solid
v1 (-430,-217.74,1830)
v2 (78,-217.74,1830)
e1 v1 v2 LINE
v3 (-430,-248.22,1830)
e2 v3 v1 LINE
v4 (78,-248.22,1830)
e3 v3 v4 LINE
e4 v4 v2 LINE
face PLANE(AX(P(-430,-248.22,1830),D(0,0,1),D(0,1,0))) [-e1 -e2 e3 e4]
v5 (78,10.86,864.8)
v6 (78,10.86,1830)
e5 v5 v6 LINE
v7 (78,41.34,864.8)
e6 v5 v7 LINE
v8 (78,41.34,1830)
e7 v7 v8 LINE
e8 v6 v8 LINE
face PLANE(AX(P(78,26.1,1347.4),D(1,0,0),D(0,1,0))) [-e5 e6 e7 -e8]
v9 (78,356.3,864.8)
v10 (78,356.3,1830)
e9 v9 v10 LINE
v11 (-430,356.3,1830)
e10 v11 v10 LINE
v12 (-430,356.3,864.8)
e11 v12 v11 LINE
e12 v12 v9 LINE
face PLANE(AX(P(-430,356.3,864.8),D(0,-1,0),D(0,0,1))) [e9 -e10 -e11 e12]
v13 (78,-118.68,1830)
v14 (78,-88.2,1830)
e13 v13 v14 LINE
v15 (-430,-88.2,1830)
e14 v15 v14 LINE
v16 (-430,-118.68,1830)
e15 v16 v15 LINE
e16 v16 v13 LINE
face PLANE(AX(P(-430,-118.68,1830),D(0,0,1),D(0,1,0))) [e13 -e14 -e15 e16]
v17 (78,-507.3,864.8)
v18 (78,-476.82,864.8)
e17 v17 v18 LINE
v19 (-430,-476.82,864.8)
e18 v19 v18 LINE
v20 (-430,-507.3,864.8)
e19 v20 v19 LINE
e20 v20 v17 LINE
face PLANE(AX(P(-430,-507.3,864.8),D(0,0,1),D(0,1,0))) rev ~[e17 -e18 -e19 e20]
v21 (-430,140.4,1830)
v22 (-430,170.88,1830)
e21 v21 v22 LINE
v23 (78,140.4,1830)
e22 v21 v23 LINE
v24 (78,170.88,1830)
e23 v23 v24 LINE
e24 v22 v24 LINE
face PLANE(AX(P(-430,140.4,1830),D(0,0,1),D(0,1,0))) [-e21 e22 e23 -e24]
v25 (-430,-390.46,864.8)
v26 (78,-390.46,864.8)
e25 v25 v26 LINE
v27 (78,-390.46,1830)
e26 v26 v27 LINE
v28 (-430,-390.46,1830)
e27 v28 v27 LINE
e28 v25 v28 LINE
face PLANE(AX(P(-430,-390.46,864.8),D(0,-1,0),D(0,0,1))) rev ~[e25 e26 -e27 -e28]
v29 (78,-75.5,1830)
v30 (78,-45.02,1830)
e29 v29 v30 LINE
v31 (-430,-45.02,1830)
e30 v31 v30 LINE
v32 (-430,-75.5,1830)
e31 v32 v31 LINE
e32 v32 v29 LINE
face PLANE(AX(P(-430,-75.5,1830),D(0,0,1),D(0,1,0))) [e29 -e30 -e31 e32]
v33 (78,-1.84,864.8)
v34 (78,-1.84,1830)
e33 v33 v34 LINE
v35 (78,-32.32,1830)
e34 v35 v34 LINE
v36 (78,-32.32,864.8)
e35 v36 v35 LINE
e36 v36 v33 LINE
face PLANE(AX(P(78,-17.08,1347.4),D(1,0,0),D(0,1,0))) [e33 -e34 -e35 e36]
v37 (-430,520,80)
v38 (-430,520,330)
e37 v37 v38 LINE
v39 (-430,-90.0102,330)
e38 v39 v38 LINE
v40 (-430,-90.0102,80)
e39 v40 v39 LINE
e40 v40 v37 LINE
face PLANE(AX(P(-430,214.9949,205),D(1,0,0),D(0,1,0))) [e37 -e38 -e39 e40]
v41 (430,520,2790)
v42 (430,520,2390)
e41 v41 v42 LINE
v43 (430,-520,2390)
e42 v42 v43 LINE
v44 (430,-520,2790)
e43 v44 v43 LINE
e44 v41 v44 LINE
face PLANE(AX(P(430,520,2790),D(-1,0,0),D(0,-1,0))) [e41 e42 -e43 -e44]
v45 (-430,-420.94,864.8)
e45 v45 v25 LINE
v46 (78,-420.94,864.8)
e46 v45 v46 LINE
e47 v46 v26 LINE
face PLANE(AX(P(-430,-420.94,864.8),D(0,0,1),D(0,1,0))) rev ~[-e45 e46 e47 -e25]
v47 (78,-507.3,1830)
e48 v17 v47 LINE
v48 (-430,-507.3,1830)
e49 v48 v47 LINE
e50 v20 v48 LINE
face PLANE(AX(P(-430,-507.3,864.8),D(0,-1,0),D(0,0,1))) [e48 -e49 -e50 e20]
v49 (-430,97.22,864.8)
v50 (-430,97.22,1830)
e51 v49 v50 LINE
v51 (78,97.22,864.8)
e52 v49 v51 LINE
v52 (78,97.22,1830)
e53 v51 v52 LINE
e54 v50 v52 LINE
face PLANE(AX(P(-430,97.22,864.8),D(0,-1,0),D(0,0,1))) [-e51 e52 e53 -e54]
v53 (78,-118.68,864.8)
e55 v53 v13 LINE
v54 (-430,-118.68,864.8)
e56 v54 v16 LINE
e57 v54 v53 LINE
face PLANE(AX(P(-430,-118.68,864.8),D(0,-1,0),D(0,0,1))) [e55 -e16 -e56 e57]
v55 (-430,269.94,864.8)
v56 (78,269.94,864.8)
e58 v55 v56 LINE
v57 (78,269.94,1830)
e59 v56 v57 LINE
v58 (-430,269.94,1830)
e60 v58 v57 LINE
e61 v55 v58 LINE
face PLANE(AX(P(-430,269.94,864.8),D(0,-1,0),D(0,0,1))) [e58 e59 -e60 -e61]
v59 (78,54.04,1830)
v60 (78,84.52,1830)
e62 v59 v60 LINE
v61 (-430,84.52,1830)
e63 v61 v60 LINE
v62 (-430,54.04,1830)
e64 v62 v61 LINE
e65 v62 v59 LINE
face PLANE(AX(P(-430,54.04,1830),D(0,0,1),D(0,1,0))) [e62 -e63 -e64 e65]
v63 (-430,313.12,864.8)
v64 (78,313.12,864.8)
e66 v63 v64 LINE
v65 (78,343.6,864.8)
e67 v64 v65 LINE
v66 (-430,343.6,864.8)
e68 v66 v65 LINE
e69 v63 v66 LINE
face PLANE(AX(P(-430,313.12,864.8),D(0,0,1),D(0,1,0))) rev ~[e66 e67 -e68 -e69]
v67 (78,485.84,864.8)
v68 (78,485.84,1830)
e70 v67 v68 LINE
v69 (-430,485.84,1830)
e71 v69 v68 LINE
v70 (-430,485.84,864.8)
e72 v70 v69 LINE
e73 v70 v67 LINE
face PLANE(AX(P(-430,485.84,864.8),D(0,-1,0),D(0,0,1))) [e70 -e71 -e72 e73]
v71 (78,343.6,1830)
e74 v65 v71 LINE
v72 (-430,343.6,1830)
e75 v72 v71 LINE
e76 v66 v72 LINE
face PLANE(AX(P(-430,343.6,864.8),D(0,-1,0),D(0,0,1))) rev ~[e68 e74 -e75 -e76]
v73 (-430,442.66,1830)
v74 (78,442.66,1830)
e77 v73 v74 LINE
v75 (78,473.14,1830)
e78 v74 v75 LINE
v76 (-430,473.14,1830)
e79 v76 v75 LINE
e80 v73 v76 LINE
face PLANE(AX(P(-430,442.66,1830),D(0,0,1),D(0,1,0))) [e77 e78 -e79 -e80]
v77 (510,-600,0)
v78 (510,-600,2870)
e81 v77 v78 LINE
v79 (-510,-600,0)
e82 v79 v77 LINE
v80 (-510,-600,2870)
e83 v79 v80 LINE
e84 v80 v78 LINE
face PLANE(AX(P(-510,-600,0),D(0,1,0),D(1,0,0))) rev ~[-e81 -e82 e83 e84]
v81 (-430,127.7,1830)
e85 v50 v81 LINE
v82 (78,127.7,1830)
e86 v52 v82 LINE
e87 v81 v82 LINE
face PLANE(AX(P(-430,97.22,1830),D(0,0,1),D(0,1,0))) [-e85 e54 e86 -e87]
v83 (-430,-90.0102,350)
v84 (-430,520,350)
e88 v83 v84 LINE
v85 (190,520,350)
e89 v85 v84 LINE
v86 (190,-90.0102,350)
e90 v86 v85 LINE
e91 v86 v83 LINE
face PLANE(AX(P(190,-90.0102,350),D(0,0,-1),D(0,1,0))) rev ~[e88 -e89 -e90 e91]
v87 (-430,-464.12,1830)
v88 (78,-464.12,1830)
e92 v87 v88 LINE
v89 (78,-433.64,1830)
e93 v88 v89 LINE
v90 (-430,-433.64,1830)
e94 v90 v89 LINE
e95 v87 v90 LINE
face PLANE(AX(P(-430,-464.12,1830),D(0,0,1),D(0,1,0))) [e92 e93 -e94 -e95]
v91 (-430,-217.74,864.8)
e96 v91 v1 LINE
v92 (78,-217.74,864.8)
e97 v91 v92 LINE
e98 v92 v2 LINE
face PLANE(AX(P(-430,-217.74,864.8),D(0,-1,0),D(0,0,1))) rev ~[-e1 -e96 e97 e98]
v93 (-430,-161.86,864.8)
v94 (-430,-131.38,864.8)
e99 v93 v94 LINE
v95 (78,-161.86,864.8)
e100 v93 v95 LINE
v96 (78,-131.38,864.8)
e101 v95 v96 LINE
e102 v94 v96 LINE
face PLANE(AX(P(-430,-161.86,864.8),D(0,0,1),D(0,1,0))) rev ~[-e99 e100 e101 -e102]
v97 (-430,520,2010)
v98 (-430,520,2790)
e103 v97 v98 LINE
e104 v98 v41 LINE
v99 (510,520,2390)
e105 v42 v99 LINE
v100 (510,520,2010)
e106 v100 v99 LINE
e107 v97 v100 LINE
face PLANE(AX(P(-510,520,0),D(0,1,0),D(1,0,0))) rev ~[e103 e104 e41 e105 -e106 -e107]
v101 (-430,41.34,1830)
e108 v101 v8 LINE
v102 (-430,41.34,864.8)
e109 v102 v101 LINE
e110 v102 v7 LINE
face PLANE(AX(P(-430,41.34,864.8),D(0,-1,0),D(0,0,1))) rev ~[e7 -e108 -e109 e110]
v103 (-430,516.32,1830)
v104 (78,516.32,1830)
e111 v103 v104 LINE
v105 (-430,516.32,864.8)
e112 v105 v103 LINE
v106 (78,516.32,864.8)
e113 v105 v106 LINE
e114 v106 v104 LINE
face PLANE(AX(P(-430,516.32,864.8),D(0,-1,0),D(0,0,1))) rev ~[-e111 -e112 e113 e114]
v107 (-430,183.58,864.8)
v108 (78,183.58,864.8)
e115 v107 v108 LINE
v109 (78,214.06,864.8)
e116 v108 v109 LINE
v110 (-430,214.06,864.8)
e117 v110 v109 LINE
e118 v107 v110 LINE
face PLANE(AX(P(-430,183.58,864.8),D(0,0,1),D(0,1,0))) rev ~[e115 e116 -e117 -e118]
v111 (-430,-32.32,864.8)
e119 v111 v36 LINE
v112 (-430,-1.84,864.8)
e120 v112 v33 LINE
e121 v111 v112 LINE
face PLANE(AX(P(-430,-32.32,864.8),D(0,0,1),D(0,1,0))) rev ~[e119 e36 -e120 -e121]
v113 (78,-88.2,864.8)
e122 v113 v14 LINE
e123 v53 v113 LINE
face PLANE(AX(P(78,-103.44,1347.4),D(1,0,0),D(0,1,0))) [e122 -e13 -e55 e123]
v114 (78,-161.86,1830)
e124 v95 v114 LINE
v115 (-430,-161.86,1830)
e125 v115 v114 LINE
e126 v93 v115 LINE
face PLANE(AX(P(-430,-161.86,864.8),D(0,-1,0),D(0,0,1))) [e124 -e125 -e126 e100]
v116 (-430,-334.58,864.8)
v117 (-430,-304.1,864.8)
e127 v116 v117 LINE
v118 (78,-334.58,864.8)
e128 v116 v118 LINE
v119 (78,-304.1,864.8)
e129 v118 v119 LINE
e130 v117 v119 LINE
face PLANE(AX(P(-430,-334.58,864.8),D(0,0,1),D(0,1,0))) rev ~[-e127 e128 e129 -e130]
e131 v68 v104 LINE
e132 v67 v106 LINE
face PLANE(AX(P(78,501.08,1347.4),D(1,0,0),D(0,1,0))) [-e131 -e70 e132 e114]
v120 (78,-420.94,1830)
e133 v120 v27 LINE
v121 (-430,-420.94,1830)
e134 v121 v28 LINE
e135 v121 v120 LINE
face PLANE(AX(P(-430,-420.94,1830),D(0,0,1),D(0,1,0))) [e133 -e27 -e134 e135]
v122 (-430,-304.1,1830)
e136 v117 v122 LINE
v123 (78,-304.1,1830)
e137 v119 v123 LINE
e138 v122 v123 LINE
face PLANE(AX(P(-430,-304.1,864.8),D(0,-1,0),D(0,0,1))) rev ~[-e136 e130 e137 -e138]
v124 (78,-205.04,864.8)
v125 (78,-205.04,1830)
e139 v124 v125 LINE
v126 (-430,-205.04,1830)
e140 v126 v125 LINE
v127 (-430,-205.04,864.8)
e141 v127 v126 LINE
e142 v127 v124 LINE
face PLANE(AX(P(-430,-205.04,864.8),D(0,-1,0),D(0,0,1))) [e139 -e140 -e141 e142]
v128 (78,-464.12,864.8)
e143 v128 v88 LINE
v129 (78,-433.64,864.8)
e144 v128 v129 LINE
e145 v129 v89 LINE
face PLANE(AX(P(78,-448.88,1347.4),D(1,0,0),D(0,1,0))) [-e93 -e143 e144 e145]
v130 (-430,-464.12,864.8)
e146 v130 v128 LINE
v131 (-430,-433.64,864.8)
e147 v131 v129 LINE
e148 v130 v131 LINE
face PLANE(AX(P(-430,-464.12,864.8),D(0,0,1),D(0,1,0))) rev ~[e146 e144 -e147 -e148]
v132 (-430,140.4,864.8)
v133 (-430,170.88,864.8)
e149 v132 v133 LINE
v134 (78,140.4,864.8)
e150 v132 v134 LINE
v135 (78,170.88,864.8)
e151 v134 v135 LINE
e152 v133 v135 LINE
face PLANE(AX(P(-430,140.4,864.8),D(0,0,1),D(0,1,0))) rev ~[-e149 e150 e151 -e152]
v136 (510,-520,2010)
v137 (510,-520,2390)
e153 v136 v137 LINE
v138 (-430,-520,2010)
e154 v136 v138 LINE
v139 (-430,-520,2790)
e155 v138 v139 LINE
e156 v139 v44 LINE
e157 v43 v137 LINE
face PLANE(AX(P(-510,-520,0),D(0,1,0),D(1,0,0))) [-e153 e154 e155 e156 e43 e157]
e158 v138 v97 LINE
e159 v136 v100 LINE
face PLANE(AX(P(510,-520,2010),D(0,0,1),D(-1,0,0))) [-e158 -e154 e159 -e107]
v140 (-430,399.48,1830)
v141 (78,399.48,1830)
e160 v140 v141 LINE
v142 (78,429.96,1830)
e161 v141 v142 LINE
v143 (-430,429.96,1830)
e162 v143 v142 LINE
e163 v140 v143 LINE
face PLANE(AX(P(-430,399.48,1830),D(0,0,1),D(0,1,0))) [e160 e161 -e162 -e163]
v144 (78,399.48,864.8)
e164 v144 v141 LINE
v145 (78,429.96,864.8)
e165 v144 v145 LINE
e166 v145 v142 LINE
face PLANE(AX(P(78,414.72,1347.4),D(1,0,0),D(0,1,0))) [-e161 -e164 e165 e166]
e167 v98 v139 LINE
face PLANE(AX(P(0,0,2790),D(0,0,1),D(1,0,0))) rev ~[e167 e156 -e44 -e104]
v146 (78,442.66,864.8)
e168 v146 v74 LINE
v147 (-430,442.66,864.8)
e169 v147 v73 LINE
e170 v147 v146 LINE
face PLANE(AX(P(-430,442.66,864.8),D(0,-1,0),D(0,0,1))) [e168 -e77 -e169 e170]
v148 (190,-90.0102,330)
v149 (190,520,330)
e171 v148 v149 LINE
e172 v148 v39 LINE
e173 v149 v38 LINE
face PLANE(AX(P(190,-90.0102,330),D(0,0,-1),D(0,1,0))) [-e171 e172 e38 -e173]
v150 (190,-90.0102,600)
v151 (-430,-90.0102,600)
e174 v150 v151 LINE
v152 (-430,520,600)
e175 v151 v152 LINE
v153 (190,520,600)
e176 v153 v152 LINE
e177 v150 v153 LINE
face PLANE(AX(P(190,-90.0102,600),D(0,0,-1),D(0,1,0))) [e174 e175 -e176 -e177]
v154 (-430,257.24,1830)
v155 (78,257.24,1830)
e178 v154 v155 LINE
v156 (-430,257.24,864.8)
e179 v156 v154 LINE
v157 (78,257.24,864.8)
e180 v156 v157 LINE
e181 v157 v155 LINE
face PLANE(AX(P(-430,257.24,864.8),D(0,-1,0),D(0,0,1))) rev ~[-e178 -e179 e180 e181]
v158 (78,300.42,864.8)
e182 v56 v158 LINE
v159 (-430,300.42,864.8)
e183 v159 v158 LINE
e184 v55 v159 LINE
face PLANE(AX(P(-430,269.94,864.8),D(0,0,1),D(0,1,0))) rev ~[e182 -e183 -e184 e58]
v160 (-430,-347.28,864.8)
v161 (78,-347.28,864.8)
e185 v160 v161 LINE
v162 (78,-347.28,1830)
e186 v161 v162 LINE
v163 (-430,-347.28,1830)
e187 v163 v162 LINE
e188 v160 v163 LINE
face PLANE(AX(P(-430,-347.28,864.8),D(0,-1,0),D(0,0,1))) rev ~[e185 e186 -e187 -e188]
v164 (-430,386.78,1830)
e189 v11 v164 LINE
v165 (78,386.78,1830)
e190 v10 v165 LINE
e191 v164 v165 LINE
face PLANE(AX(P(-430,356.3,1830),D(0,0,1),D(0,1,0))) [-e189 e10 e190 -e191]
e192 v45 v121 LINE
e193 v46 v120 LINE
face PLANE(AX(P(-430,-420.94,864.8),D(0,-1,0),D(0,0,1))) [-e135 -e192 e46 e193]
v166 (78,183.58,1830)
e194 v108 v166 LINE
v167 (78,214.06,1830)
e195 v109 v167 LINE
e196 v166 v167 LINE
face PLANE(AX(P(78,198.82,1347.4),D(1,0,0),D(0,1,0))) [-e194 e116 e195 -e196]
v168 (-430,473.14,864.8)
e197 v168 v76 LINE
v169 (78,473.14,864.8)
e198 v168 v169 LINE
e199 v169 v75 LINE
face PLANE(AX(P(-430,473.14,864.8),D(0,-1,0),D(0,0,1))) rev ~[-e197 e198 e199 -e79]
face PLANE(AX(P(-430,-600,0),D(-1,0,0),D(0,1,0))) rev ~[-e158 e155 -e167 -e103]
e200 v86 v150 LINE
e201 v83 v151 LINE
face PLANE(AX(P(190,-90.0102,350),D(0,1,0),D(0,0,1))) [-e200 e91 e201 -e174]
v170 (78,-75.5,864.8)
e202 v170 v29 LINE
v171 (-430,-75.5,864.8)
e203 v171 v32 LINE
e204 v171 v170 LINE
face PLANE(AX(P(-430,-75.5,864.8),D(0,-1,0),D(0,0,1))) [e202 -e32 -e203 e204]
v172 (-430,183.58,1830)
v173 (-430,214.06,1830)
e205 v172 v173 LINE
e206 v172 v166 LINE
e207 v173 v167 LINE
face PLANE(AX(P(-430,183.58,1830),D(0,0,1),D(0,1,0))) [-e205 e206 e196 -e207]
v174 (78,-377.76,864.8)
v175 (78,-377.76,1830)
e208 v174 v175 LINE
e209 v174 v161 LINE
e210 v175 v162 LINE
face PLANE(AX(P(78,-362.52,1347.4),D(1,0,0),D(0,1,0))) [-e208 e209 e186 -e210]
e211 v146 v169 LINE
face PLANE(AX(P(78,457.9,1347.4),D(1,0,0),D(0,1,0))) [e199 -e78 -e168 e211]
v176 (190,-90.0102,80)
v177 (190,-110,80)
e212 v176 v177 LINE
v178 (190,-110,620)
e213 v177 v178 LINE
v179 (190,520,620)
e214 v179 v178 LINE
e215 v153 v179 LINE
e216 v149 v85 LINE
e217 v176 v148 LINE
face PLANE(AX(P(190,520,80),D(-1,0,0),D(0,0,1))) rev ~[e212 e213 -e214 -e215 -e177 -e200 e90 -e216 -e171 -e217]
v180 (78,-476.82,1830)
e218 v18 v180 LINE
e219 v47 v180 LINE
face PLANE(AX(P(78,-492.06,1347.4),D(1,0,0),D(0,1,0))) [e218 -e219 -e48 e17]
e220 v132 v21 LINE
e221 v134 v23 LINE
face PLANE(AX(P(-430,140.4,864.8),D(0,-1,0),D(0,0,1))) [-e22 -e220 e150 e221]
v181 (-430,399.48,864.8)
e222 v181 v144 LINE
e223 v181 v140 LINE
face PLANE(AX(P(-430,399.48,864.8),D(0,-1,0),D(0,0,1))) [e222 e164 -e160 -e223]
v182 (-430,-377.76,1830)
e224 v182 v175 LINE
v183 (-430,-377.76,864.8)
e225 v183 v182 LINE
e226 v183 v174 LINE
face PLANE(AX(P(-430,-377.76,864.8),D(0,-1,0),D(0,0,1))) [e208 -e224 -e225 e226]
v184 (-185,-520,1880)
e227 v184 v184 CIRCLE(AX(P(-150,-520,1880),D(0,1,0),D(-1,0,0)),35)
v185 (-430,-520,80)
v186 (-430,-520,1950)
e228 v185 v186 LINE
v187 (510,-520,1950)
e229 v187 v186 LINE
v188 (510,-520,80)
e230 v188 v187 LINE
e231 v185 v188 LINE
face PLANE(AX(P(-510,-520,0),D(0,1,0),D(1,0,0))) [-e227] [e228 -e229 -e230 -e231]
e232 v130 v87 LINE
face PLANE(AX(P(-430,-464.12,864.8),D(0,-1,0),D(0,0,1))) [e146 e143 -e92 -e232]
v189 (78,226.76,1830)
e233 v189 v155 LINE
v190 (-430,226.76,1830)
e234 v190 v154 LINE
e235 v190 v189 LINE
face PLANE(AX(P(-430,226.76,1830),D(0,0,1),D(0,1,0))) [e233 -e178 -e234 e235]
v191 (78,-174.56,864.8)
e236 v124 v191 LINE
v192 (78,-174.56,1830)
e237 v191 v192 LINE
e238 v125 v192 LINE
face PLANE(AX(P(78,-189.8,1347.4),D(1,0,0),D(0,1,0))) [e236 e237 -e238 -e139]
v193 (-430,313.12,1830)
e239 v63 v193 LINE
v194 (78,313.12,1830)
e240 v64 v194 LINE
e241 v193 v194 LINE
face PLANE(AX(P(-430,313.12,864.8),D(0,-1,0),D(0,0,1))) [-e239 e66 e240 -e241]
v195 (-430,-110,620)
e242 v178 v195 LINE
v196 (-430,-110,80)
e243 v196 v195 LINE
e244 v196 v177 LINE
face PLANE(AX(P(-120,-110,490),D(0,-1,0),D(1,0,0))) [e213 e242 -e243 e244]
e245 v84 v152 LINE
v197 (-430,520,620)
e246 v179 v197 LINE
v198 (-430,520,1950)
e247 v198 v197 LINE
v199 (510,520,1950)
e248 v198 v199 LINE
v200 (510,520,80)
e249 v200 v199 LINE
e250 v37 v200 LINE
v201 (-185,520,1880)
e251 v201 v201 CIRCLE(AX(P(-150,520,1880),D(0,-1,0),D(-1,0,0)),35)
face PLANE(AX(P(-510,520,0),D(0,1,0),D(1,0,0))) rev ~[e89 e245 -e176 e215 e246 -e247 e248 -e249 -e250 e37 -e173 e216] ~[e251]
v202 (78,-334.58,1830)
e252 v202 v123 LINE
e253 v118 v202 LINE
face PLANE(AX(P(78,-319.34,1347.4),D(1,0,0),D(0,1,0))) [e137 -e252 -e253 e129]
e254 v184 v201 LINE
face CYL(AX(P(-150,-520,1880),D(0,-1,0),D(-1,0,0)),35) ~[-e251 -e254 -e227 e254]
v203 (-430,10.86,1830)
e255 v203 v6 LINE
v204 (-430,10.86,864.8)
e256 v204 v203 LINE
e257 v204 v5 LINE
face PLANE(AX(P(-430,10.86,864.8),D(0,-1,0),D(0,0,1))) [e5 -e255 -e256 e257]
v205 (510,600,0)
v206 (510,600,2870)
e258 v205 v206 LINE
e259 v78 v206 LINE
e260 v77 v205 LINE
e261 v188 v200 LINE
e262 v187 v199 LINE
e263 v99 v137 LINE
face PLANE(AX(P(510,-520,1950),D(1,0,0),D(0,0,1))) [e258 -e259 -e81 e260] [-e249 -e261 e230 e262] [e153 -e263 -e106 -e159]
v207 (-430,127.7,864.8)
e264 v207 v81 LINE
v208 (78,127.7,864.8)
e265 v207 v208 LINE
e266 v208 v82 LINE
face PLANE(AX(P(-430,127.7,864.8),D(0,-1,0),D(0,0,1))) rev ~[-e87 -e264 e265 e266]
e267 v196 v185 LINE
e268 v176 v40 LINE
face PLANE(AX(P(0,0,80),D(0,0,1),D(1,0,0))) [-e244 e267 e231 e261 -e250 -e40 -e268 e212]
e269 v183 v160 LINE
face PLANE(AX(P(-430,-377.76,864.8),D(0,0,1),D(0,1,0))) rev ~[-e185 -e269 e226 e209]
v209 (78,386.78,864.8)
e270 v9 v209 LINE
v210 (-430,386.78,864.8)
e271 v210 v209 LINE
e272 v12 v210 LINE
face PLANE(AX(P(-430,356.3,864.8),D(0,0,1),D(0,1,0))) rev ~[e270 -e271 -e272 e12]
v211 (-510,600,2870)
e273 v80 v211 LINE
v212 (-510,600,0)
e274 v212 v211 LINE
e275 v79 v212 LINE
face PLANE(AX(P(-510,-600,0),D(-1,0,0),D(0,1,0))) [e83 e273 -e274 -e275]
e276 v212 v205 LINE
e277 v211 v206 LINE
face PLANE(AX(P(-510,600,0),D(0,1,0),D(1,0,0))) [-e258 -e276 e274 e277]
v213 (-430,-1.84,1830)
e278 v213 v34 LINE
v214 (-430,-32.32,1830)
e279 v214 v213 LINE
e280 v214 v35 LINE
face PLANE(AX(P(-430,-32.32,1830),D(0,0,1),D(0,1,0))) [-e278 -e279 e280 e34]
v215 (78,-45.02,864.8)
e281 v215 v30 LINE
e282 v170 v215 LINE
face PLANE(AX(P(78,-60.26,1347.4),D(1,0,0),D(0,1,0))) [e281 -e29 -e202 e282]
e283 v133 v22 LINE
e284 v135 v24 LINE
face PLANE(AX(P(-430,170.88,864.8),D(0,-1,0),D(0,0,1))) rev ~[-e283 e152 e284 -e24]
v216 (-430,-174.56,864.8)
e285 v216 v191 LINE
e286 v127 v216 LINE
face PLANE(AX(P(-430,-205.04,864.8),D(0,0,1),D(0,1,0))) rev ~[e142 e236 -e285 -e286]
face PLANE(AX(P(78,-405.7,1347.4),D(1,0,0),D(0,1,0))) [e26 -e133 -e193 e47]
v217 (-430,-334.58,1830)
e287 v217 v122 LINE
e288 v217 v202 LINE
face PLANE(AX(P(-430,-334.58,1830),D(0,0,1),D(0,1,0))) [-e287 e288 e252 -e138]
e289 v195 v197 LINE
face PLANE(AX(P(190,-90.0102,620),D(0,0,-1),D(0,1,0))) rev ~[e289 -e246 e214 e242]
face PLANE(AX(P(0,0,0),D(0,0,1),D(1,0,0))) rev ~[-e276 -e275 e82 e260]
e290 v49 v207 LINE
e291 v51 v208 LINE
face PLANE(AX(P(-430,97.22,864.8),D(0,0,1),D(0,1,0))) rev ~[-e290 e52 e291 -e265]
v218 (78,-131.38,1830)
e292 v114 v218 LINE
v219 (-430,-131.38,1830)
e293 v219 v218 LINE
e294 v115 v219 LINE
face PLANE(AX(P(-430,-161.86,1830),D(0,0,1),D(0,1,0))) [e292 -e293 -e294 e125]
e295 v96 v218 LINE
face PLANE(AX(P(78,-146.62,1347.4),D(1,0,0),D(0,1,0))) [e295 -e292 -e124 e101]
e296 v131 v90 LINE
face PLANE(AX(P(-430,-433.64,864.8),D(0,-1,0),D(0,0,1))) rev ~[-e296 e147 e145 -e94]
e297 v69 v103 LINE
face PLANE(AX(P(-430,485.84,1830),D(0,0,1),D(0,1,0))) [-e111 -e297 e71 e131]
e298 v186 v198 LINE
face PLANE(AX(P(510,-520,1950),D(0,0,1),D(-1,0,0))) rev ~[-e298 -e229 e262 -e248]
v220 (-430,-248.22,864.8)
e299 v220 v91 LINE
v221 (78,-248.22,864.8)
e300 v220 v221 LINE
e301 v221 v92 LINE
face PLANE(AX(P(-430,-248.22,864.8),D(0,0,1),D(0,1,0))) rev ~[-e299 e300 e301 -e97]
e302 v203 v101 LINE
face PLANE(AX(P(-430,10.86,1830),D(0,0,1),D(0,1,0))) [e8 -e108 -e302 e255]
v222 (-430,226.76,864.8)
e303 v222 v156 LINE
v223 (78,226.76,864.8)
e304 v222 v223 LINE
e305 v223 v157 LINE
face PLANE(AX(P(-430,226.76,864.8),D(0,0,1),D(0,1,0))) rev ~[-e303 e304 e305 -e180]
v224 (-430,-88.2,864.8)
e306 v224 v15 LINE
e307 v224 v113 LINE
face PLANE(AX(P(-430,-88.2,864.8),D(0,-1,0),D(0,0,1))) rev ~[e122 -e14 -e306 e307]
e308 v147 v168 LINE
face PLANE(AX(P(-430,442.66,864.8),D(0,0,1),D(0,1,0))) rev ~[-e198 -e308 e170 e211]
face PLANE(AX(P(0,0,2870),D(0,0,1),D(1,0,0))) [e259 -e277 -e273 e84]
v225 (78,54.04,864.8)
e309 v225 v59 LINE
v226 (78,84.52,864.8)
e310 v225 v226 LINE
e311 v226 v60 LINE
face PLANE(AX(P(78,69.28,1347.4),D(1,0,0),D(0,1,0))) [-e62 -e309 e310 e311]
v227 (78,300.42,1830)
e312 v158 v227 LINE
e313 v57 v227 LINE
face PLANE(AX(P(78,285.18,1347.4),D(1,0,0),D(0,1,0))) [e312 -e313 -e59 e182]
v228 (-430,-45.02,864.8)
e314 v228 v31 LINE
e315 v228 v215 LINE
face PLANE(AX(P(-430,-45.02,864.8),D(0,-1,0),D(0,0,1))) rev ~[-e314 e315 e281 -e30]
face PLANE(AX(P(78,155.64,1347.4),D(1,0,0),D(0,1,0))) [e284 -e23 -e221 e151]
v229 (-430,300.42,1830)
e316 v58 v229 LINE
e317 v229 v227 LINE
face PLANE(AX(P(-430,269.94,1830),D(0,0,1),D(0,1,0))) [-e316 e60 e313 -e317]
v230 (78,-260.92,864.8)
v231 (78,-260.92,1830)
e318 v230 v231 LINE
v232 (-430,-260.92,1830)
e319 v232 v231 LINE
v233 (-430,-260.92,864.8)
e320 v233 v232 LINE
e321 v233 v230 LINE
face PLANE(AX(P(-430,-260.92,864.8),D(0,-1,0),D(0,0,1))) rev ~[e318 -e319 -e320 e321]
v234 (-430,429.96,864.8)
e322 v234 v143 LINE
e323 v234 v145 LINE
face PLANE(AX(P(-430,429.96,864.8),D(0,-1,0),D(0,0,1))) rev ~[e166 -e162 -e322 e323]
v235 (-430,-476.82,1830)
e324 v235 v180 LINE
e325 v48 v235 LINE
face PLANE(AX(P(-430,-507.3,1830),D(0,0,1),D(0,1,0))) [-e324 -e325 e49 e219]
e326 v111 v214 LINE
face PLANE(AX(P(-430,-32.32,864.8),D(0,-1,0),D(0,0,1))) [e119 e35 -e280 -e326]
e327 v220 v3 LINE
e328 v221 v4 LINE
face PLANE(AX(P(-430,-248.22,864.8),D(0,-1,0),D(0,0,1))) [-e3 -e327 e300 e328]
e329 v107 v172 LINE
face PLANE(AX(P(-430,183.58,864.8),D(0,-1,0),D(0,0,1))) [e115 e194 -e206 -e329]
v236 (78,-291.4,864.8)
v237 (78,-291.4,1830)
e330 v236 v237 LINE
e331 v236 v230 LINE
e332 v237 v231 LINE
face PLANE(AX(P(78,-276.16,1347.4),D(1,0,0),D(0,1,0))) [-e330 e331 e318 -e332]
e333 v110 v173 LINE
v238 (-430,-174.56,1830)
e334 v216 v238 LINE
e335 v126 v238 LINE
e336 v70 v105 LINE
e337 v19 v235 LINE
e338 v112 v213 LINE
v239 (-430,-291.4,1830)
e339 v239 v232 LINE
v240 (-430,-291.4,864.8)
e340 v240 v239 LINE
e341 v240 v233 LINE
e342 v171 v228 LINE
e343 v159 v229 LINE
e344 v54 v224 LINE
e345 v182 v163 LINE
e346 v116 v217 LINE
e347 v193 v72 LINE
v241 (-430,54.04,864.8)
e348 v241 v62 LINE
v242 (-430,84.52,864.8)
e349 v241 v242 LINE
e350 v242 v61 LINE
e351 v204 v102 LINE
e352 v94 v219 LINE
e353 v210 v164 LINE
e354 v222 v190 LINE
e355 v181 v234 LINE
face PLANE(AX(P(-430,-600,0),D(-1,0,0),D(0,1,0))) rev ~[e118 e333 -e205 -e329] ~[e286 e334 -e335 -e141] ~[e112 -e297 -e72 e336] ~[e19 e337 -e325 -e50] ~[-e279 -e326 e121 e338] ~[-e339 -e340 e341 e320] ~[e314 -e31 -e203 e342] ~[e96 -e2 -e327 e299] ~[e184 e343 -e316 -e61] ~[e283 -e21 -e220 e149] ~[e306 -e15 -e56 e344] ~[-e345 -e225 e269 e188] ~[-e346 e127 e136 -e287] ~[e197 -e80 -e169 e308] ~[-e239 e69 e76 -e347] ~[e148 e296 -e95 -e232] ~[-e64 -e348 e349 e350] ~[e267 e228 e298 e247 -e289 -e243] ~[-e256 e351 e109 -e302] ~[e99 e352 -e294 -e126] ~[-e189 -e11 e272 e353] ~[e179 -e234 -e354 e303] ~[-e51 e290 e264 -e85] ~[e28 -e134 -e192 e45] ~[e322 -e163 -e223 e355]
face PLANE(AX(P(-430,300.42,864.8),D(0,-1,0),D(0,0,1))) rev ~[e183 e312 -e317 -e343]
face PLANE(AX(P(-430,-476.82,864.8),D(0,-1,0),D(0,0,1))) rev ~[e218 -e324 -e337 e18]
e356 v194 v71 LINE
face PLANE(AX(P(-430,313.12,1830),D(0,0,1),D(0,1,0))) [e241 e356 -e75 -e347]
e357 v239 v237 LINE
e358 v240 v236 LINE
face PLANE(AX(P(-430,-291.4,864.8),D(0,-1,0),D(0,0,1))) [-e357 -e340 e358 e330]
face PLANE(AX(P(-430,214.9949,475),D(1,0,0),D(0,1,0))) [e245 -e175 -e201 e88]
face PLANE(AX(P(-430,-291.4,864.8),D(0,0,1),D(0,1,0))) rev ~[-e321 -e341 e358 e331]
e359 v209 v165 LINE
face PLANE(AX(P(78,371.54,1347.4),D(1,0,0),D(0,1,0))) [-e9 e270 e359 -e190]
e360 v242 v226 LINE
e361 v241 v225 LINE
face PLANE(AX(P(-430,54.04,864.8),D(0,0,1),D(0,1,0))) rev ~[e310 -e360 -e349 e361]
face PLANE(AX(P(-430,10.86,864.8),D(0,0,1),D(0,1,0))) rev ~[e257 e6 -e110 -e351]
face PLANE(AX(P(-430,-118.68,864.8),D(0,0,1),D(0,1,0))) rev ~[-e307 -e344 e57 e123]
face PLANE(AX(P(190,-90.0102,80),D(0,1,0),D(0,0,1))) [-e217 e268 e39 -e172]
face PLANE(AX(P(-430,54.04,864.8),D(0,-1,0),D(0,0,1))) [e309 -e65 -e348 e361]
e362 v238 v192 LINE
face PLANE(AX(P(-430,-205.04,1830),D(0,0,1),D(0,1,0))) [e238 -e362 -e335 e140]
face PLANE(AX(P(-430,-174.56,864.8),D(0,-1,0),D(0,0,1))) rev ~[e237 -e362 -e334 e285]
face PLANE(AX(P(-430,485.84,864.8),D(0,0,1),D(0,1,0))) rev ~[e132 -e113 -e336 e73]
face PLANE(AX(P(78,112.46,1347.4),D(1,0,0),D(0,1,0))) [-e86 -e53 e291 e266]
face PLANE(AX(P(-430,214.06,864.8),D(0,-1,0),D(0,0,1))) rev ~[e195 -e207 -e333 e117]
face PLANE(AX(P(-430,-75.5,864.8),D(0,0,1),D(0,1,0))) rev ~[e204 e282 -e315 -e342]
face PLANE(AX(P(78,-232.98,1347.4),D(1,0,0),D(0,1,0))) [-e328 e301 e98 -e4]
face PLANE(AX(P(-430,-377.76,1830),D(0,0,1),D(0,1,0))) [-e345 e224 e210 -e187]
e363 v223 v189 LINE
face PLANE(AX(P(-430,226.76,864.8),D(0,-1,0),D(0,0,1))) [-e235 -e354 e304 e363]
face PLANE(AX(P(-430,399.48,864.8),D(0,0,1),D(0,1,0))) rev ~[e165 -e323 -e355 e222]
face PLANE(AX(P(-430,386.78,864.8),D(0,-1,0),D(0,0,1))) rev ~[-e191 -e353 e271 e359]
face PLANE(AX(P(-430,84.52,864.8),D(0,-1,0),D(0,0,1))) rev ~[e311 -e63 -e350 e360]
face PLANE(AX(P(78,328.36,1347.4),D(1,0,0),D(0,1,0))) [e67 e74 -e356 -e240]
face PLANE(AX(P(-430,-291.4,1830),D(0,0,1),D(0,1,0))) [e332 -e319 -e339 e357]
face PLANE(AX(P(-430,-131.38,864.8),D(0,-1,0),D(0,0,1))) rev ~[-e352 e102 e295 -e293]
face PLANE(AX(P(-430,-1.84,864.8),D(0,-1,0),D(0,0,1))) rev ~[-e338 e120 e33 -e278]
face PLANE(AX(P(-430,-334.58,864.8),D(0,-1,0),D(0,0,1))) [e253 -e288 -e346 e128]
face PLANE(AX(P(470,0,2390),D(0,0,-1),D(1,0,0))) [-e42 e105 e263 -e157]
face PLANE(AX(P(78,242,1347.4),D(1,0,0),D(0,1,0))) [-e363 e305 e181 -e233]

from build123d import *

# Parameters (mm, degrees)
F0_W      = 1020
F0_H      = 1200
F1_DEPTH  = 2870
F2_T      = -80
F3_W      = 80
F3_H      = 1040
F4_DEPTH  = 400
F5_W      = 940
F5_H      = 60
F6_DEPTH  = 1066.8
F7_W      = 620
F7_H      = 820
F8_DEPTH  = 630
F9_W      = 610.0102
F9_H      = 260
F9_H_2    = 250
F10_DEPTH = 620
F11_R     = 35
F12_DEPTH = 1066.8
F13_W     = 19.9898
F13_H     = 260
F13_W_2   = 610.0102
F13_H_2   = 20
F14_DEPTH = 620
F15_W     = 30.48
F15_H     = 965.2
F16_DEPTH = 508


with BuildPart() as f1:
    # F0 (on Top) → F1 (new body)
    with BuildSketch(Plane.XY):
        Rectangle(F0_W, F0_H)
    extrude(amount=F1_DEPTH)

    # F2
    f2_openings = [f1.faces().sort_by_distance(p)[0] for p in [
        (510, 0, 1435),
    ]]
    offset(amount=F2_T, openings=f2_openings)

    # F3 (on face) → F4 (join)
    with BuildSketch(Plane(origin=(0, 0, 2790), x_dir=(1, 0, 0), z_dir=(0, 0, -1))):
        with Locations((470, 0)):
            Rectangle(F3_W, F3_H)
    extrude(amount=F4_DEPTH)

    # F5 (on face) → F6 (join)
    with BuildSketch(Plane(origin=(0, -520, 0), x_dir=(-1, 0, 0), z_dir=(0, 1, 0))):
        with Locations((-40, 1980)):
            Rectangle(F5_W, F5_H)
    extrude(amount=F6_DEPTH)

    # F7 (on face) → F8 (join)
    with BuildSketch(Plane.XZ.offset(-520)):
        with Locations((-120, 490)):
            Rectangle(F7_W, F7_H)
    extrude(amount=F8_DEPTH)

    # F9 (on face) → F10 (cut)
    with BuildSketch(Plane.YZ.offset(190)):
        with Locations((214.9949, 750)):
            Rectangle(F9_W, F9_H)
        with Locations((214.9949, 475)):
            Rectangle(F9_W, F9_H_2)
        with Locations((214.9949, 205)):
            Rectangle(F9_W, F9_H_2)
    extrude(amount=-F10_DEPTH, mode=Mode.SUBTRACT)

    # F11 (on face) → F12 (join)
    with BuildSketch(Plane(origin=(0, -520, 0), x_dir=(-1, 0, 0), z_dir=(0, 1, 0))):
        with Locations((150, 1880)):
            Circle(F11_R)
    extrude(amount=F12_DEPTH)

    # F13 (on face) → F14 (cut)
    with BuildSketch(Plane.YZ.offset(190)):
        with Locations((-100.0051, 750)):
            Rectangle(F13_W, F13_H)
        with Locations((214.9949, 890)):
            Rectangle(F13_W_2, F13_H_2)
        with Locations((-100.0051, 890)):
            Rectangle(F13_W, F13_H_2)
    extrude(amount=-F14_DEPTH, mode=Mode.SUBTRACT)

    # F15 (on face) → F16 (join)
    with BuildSketch(Plane.YZ.offset(-430)):
        with Locations((-492.06, 1347.4)):
            Rectangle(F15_W, F15_H)
        with Locations((-448.88, 1347.4)):
            Rectangle(F15_W, F15_H)
        with Locations((-405.7, 1347.4)):
            Rectangle(F15_W, F15_H)
        with Locations((-362.52, 1347.4)):
            Rectangle(F15_W, F15_H)
        with Locations((-319.34, 1347.4)):
            Rectangle(F15_W, F15_H)
        with Locations((-276.16, 1347.4)):
            Rectangle(F15_W, F15_H)
        with Locations((-232.98, 1347.4)):
            Rectangle(F15_W, F15_H)
        with Locations((-189.8, 1347.4)):
            Rectangle(F15_W, F15_H)
        with Locations((-146.62, 1347.4)):
            Rectangle(F15_W, F15_H)
        with Locations((-103.44, 1347.4)):
            Rectangle(F15_W, F15_H)
        with Locations((-60.26, 1347.4)):
            Rectangle(F15_W, F15_H)
        with Locations((-17.08, 1347.4)):
            Rectangle(F15_W, F15_H)
        with Locations((26.1, 1347.4)):
            Rectangle(F15_W, F15_H)
        with Locations((69.28, 1347.4)):
            Rectangle(F15_W, F15_H)
        with Locations((112.46, 1347.4)):
            Rectangle(F15_W, F15_H)
        with Locations((155.64, 1347.4)):
            Rectangle(F15_W, F15_H)
        with Locations((198.82, 1347.4)):
            Rectangle(F15_W, F15_H)
        with Locations((242, 1347.4)):
            Rectangle(F15_W, F15_H)
        with Locations((285.18, 1347.4)):
            Rectangle(F15_W, F15_H)
        with Locations((328.36, 1347.4)):
            Rectangle(F15_W, F15_H)
        with Locations((371.54, 1347.4)):
            Rectangle(F15_W, F15_H)
        with Locations((414.72, 1347.4)):
            Rectangle(F15_W, F15_H)
        with Locations((457.9, 1347.4)):
            Rectangle(F15_W, F15_H)
        with Locations((501.08, 1347.4)):
            Rectangle(F15_W, F15_H)
    extrude(amount=F16_DEPTH)


solid = f1.part
